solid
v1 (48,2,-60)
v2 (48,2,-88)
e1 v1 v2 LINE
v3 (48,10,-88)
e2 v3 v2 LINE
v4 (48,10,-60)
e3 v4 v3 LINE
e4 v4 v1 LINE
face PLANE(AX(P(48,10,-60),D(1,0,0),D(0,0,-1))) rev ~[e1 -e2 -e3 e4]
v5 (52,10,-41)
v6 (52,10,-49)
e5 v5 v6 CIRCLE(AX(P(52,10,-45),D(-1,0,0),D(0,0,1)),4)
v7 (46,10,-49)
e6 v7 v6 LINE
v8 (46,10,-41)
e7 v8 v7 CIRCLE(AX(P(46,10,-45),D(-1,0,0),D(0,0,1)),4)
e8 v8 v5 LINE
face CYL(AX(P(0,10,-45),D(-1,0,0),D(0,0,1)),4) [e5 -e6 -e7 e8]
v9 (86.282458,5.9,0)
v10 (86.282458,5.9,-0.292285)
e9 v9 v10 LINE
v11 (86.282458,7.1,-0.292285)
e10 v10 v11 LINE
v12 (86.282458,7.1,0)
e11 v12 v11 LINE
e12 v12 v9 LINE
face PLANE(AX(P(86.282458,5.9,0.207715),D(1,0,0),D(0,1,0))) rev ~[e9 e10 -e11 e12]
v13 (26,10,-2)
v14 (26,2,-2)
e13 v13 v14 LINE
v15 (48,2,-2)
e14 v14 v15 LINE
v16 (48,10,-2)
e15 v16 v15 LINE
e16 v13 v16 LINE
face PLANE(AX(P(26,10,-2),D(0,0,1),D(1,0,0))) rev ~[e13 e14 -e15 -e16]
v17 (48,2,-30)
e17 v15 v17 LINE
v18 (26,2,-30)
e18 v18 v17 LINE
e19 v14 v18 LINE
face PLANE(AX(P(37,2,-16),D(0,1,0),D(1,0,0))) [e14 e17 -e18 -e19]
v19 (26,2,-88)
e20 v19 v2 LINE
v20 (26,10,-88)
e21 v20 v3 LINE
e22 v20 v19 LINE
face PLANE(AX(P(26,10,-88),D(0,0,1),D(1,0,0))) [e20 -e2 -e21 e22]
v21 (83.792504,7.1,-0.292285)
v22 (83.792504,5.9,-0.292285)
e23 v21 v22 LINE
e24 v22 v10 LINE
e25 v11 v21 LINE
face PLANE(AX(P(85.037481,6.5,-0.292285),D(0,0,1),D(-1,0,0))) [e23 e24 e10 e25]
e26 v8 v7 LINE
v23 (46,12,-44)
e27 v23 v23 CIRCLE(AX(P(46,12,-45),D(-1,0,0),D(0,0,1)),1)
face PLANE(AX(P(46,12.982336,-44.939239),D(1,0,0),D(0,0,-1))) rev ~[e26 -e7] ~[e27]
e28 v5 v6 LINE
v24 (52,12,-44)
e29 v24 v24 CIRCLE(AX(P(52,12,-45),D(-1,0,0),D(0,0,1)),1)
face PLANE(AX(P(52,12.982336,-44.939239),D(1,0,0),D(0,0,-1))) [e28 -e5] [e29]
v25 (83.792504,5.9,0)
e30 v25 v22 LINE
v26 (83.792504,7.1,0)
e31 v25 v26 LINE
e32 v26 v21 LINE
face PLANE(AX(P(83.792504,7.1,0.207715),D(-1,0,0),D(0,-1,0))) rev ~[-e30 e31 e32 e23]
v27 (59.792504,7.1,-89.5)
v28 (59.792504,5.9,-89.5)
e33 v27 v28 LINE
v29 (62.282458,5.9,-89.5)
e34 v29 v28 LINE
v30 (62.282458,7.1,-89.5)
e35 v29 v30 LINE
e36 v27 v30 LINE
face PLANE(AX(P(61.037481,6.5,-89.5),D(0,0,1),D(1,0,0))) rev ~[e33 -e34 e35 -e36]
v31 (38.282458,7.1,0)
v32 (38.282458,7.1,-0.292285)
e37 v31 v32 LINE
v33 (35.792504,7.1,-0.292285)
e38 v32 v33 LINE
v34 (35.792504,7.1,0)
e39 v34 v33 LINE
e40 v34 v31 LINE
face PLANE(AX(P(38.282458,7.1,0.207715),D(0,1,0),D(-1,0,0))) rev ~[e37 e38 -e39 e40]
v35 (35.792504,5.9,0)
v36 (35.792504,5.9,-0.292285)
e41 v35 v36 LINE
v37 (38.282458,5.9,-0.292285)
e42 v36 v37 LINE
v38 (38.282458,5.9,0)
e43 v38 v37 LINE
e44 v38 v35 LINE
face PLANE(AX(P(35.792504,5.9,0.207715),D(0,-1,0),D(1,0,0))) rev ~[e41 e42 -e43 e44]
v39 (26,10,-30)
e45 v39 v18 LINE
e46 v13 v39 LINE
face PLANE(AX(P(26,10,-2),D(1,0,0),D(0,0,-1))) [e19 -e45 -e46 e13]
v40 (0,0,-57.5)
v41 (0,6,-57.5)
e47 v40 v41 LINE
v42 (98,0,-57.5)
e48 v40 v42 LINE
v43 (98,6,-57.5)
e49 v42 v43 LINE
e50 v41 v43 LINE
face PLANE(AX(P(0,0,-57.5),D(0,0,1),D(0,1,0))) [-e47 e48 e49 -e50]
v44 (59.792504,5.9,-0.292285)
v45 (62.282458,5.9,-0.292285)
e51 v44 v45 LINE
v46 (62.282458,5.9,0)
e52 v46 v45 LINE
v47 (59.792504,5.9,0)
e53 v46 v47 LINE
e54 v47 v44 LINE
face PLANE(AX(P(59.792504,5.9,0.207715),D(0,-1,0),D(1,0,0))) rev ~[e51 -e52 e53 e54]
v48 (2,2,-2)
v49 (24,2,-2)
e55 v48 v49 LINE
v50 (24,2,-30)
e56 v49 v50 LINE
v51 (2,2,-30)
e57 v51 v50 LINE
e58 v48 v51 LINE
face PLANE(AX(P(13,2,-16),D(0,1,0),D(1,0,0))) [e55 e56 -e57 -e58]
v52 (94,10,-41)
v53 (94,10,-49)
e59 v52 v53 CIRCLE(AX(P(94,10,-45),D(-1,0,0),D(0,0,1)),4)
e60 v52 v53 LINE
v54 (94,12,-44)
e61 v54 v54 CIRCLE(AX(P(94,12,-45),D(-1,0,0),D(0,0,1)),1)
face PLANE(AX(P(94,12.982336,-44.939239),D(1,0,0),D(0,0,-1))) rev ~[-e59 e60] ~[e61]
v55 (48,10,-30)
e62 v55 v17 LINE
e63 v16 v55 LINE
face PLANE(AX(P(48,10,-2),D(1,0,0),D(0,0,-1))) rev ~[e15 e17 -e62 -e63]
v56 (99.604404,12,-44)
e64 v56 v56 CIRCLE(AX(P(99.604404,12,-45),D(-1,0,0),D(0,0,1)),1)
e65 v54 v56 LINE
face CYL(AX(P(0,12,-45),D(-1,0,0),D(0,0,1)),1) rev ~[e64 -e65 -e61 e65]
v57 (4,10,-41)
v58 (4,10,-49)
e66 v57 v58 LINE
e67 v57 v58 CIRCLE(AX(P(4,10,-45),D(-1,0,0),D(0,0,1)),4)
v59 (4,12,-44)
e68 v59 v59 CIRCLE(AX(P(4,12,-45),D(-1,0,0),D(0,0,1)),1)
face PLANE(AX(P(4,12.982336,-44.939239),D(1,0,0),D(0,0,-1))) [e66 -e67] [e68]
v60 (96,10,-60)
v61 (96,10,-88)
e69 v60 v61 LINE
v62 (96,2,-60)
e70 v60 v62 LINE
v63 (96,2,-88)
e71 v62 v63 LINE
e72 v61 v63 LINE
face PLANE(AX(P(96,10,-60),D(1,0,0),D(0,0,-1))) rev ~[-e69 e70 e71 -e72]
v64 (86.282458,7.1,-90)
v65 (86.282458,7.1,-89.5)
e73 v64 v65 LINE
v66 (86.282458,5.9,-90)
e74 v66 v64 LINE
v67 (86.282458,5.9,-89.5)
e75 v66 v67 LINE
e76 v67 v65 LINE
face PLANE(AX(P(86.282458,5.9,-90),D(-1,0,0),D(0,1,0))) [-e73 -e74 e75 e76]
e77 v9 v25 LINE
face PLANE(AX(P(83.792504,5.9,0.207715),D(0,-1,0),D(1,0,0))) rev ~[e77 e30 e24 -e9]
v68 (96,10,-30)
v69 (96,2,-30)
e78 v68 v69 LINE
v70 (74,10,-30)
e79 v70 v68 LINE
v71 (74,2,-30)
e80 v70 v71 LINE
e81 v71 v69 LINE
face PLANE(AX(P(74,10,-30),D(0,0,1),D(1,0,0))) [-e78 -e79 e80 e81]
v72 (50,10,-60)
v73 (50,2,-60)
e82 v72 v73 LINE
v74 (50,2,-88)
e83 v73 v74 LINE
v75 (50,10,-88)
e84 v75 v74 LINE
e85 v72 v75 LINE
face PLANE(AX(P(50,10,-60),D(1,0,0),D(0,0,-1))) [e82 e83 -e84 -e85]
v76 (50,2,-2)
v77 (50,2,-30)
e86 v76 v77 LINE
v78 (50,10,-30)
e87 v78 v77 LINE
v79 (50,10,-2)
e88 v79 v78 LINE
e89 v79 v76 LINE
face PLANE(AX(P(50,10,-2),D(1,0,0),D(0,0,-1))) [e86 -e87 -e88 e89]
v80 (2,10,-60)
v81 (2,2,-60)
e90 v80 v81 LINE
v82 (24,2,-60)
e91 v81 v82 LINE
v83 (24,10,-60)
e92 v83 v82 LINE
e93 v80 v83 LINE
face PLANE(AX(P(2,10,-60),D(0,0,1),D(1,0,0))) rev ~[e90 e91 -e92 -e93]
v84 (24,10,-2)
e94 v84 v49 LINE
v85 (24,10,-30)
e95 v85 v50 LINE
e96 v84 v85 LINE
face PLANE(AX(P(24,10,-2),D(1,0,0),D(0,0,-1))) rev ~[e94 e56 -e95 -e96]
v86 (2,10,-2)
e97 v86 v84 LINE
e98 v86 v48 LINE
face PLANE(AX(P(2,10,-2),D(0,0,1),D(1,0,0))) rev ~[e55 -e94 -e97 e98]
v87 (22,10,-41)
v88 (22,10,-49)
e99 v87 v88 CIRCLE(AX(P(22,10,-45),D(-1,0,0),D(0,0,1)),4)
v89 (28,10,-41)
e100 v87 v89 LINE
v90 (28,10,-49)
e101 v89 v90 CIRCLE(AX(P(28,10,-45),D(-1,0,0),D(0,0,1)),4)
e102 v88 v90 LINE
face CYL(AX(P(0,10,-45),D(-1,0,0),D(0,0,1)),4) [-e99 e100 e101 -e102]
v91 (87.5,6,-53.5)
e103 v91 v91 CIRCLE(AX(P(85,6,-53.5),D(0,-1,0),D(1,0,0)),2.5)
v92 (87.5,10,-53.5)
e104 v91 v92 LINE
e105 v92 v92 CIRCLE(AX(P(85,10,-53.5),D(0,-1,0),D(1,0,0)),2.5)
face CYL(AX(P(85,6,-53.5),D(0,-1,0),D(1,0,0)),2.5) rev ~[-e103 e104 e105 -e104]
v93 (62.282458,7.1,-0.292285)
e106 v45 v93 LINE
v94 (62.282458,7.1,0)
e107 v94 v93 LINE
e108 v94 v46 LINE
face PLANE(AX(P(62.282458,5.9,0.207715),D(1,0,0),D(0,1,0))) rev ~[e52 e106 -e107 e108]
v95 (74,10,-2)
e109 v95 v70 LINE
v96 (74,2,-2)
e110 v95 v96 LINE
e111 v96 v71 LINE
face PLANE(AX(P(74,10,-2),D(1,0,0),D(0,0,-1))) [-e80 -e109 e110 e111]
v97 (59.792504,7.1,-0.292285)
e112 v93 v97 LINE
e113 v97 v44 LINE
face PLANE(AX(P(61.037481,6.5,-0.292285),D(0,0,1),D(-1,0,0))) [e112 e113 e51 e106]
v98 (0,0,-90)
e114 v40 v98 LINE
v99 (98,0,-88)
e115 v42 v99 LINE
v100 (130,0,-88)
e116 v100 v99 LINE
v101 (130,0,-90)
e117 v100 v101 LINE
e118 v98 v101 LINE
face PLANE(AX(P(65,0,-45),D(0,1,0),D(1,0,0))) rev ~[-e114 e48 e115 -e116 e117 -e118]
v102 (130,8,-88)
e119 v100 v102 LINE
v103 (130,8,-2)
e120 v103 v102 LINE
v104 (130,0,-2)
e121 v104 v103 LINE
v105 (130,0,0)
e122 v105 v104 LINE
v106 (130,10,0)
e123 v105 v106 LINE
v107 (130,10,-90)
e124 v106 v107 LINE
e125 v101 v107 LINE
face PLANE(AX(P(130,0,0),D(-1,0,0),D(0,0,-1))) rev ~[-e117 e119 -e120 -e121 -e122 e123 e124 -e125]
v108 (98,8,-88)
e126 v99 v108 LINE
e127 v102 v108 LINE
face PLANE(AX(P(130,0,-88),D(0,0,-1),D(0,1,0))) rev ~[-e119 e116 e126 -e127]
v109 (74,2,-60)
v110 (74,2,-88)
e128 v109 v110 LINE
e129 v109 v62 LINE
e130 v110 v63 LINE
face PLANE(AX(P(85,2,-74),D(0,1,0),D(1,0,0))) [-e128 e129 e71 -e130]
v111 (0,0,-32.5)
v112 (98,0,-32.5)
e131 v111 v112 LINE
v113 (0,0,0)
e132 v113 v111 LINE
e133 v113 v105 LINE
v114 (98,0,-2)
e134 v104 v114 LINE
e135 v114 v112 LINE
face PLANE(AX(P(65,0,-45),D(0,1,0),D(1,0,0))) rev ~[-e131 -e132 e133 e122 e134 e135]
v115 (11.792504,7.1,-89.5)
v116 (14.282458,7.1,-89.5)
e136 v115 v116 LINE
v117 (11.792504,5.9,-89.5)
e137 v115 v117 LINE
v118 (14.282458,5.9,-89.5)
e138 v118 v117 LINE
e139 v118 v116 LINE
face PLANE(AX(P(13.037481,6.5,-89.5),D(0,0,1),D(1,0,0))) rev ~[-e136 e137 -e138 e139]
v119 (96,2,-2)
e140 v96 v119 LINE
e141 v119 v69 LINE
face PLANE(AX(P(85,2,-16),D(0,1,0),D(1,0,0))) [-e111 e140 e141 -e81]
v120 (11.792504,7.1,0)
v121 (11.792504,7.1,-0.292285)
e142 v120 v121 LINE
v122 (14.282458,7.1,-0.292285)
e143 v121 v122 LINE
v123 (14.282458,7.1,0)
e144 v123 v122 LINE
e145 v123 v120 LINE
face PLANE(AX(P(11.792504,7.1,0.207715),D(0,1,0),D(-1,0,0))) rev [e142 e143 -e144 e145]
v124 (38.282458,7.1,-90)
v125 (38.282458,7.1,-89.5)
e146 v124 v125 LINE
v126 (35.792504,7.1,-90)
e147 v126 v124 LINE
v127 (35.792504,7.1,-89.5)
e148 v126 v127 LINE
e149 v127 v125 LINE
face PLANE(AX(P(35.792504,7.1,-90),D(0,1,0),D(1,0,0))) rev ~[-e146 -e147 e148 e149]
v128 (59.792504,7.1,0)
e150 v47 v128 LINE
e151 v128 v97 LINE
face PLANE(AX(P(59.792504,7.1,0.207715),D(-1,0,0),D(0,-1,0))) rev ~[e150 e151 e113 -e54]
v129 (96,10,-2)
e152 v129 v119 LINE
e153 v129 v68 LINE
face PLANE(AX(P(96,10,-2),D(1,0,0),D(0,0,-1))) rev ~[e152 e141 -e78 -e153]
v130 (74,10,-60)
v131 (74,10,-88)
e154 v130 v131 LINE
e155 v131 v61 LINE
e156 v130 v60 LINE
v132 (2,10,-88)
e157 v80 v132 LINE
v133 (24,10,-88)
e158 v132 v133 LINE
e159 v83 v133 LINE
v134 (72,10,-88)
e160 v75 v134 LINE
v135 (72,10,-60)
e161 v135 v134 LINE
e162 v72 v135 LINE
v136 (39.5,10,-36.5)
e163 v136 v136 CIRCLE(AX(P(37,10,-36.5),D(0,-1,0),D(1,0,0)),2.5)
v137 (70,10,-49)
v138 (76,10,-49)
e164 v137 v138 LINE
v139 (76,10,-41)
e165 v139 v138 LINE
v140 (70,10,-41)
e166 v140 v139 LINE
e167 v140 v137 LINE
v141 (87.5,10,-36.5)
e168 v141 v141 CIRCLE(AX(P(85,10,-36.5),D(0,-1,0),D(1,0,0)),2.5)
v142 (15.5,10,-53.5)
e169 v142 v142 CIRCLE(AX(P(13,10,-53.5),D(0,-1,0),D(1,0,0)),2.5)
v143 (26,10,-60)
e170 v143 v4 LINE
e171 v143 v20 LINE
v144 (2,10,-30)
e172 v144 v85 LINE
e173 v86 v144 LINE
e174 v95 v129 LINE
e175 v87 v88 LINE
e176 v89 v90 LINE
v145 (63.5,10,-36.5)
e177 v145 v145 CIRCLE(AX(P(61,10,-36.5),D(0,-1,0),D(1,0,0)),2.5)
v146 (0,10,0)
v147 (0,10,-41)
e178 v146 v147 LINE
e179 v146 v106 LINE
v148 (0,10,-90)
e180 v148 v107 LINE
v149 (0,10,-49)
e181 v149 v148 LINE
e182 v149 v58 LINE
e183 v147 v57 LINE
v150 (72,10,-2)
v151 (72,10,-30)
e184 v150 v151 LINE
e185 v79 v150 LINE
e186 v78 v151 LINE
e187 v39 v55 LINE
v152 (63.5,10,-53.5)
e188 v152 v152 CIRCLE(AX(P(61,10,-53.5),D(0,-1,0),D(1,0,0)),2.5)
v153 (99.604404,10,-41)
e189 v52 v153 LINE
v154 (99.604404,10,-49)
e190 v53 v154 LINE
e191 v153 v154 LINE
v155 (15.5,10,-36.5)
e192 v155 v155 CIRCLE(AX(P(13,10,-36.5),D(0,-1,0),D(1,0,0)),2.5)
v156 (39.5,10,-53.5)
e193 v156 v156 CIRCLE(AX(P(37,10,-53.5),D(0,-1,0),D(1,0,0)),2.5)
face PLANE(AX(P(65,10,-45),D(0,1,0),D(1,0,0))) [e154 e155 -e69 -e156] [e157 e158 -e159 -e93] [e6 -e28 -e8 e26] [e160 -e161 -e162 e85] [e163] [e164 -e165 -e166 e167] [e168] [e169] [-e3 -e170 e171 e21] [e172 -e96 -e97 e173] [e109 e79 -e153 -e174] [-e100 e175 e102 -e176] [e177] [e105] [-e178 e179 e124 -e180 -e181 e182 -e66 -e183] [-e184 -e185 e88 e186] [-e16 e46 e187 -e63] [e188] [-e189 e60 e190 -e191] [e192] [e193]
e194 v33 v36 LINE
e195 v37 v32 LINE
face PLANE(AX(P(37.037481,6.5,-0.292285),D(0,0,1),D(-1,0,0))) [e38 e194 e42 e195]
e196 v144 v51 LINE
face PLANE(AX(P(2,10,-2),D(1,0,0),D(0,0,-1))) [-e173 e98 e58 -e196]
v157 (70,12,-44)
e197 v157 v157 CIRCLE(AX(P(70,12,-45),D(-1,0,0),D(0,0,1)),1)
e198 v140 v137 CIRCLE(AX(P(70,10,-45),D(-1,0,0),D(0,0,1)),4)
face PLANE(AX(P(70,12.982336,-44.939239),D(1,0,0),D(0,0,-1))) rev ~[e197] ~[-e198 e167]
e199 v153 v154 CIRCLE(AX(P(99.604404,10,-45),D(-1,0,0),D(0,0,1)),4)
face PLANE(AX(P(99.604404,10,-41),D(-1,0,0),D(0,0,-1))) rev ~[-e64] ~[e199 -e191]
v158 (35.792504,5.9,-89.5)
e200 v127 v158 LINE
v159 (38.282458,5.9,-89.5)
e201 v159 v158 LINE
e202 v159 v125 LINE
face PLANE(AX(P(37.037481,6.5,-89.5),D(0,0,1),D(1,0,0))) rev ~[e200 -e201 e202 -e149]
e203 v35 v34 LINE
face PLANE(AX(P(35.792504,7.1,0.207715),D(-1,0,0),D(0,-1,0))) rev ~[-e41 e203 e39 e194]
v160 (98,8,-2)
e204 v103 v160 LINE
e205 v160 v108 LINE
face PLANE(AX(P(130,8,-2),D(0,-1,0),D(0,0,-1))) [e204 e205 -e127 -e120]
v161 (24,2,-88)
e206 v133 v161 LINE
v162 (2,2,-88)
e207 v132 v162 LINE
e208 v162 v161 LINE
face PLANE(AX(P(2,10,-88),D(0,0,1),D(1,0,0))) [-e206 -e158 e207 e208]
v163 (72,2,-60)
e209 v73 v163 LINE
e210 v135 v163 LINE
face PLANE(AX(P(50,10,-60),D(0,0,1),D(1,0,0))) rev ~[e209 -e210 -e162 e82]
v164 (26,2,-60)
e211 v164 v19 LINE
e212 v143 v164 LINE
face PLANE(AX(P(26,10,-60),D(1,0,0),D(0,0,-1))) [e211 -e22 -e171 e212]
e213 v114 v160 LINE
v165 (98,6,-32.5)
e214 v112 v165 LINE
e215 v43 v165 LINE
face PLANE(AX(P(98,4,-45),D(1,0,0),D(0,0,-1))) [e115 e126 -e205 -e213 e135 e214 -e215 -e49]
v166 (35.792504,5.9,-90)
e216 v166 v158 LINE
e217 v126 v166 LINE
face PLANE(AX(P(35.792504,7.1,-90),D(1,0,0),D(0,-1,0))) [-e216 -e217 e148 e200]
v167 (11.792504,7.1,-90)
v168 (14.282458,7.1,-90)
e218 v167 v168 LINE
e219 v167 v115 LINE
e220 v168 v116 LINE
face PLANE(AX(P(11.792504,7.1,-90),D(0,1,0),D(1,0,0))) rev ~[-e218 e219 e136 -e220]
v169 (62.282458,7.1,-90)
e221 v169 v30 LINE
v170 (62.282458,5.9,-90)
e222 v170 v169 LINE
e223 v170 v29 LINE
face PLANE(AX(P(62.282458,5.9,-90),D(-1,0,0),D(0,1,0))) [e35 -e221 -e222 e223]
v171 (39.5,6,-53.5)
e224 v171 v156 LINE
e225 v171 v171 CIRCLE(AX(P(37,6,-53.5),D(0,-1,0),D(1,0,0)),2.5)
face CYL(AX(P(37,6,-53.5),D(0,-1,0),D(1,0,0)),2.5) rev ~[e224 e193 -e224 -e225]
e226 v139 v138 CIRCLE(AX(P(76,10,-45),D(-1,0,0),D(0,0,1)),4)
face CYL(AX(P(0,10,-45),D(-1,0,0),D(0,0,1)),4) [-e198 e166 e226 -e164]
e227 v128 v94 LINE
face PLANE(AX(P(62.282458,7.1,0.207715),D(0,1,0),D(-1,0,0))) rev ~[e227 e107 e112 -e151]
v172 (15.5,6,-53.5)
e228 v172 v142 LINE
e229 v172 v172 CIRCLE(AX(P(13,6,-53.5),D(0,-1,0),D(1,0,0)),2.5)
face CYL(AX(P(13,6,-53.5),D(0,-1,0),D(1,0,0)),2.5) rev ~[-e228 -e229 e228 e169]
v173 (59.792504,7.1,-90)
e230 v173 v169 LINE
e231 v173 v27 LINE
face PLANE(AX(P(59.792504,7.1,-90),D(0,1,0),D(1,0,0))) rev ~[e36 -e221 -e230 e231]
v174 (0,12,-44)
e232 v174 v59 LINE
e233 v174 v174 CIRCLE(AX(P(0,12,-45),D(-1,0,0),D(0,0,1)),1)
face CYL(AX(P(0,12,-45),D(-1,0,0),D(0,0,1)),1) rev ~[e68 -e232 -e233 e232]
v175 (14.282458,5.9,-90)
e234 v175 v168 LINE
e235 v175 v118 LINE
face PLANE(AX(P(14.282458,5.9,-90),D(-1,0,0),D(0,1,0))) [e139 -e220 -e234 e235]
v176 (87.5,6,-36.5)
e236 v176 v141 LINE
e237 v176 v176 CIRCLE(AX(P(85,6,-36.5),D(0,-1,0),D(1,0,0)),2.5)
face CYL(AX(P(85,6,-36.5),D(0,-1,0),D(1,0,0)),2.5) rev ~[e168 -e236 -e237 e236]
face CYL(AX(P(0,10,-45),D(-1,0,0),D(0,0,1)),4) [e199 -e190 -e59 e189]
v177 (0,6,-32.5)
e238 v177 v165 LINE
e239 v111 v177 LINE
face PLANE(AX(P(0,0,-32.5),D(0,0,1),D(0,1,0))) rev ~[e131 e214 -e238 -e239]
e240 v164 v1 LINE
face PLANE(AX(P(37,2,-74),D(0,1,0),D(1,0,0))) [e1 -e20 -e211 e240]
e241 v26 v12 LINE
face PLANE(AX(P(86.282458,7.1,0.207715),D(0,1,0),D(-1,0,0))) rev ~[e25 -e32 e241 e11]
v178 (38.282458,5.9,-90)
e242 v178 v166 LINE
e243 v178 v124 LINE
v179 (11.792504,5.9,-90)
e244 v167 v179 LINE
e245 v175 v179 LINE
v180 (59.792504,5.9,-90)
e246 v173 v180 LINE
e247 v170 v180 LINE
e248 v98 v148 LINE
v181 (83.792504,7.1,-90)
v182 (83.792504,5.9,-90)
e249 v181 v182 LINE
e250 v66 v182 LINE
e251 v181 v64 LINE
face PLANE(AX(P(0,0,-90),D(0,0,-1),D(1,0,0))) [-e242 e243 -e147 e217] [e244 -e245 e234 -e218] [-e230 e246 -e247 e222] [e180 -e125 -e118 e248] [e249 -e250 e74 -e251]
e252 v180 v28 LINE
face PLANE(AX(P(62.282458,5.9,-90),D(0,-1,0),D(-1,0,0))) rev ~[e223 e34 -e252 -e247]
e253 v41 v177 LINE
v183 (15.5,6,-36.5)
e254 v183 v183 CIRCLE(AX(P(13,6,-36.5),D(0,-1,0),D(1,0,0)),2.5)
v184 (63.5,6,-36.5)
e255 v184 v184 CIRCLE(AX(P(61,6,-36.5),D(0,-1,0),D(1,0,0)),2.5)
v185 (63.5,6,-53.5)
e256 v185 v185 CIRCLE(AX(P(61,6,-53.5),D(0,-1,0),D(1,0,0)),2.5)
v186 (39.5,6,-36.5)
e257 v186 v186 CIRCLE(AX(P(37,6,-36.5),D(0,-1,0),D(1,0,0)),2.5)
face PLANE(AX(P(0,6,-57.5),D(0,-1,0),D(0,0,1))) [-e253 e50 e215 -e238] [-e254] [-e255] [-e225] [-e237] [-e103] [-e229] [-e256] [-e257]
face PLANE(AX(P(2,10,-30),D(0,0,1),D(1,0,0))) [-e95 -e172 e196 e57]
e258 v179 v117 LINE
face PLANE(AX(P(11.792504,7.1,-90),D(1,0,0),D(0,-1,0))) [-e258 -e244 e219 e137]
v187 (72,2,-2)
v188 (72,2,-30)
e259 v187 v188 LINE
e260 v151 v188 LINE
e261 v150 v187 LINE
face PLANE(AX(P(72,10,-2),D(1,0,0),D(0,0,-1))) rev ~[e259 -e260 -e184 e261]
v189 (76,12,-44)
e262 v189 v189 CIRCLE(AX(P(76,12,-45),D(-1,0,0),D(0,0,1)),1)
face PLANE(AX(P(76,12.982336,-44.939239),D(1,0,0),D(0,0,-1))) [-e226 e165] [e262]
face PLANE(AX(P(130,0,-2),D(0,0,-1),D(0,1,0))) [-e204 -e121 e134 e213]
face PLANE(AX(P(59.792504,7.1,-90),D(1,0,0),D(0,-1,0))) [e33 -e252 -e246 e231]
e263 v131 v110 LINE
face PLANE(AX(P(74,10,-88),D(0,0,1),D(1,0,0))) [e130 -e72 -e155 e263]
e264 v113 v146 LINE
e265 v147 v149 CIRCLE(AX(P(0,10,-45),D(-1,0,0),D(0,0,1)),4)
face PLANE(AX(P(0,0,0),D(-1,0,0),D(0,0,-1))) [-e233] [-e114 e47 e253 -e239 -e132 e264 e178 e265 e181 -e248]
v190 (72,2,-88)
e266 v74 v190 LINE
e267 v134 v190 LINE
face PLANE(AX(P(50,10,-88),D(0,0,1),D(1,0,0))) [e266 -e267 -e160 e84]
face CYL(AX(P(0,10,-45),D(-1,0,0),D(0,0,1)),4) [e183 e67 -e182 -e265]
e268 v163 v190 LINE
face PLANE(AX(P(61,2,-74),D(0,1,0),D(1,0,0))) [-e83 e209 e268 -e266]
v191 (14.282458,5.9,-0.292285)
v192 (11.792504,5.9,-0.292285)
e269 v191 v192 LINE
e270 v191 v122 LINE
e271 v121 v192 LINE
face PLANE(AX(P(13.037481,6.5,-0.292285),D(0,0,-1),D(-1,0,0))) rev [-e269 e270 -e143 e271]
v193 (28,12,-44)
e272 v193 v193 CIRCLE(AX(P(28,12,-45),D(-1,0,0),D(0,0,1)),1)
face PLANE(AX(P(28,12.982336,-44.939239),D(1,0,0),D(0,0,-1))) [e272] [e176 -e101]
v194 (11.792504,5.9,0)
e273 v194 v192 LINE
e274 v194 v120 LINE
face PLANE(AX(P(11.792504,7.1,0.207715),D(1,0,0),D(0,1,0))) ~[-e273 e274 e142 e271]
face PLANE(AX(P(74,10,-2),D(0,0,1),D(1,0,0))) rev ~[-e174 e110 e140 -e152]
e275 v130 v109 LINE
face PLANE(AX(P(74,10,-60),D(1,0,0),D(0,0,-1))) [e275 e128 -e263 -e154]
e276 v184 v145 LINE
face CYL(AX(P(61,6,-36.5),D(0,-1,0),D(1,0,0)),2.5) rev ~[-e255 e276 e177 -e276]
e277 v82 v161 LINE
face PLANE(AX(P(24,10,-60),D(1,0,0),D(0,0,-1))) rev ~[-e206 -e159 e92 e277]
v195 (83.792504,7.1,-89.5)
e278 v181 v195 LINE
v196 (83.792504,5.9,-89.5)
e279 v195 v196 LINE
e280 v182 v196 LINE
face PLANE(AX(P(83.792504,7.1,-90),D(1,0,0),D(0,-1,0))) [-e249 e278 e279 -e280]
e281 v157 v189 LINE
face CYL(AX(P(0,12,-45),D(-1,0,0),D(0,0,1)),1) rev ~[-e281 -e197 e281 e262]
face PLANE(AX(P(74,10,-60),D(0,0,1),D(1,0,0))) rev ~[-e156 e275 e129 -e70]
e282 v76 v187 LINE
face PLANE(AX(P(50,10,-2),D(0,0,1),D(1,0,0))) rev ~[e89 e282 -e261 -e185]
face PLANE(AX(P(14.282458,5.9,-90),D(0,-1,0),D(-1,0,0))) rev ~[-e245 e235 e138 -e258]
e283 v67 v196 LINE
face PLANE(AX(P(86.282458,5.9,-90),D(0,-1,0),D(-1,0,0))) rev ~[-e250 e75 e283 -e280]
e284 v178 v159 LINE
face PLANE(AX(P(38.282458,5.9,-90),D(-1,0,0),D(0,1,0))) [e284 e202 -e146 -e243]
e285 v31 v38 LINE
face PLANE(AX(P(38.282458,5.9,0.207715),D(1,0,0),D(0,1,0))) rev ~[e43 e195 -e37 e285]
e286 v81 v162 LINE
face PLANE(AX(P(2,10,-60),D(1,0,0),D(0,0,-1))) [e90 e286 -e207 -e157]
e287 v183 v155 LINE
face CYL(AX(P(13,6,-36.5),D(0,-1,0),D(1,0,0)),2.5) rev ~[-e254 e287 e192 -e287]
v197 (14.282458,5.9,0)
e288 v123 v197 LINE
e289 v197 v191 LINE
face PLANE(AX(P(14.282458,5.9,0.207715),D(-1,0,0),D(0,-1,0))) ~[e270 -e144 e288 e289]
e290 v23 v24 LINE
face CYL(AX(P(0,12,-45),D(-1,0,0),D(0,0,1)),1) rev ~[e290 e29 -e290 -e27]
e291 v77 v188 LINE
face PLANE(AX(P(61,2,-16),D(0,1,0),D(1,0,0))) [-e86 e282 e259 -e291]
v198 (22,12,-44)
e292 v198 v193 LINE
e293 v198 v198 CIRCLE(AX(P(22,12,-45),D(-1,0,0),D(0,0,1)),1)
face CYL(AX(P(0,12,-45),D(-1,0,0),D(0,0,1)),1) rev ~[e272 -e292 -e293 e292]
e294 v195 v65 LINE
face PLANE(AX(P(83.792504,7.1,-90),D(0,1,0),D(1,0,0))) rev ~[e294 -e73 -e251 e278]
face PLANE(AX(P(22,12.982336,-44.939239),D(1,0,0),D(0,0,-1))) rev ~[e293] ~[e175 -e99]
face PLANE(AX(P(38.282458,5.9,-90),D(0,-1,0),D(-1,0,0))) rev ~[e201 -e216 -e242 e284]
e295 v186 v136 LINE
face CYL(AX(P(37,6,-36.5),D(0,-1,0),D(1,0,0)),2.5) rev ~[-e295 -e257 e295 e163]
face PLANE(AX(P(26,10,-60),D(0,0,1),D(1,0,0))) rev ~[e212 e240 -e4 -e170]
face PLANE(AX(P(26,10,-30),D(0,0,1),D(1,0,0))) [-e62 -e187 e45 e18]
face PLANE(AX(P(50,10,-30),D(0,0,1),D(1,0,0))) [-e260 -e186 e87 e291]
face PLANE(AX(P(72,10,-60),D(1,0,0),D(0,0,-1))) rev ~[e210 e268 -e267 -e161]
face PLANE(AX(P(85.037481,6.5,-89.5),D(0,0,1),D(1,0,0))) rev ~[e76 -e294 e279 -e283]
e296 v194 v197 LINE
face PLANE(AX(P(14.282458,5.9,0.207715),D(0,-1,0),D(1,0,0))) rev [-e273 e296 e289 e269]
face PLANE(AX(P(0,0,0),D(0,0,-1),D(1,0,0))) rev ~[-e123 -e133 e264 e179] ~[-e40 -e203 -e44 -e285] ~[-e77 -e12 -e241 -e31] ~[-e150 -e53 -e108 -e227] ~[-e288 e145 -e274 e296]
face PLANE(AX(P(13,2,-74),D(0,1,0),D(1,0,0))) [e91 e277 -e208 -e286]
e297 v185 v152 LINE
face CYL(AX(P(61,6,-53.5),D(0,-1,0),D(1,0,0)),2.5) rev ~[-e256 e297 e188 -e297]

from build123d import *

# Parameters (mm, degrees)
SKETCH_1_W             = 130
SKETCH_1_H             = 90
EXTRUDE_1_DEPTH        = 10
SKETCH_2_W             = 22
SKETCH_2_H             = 28
CUT_EXTRUDE_1_DEPTH    = 8
SKETCH_3_W             = 25
SKETCH_3_H             = 6
CUT_EXTRUDE_2_DEPTH    = 131
EXTRUDE_2_DEPTH        = 130
SKETCH_7_R             = 2.5
CUT_EXTRUDE_5_DEPTH    = 9
SKETCH_5_R             = 1
CUT_EXTRUDE_6_DEPTH    = 131
CUT_EXTRUDE_8_DEPTH    = 18
PATTERN_LINEAR_1_COUNT = 4
PATTERN_LINEAR_1_PITCH = 24
CUT_EXTRUDE_9_DEPTH    = 0.5
PATTERN_LINEAR_2_COUNT = 4
PATTERN_LINEAR_2_PITCH = 24
MIRROR_1_COPY_1_DEPTH  = 0.5
MIRROR_1_COPY_2_DEPTH  = 0.5
MIRROR_1_COPY_3_DEPTH  = 0.5
SKETCH_11_W            = 86
SKETCH_11_H            = 8
CUT_EXTRUDE_10_DEPTH   = 32
SKETCH_12_W            = 30.395595504
SKETCH_12_H            = 8
CUT_EXTRUDE_11_DEPTH   = 8


with BuildPart() as part:
    # 草图1 → 凸台-拉伸1 (new body)
    with BuildSketch(Plane(origin=(0, 0, 0), x_dir=(1, 0, 0), z_dir=(0, 1, 0))):
        with Locations((65, 45)):
            Rectangle(SKETCH_1_W, SKETCH_1_H)
    extrude(amount=EXTRUDE_1_DEPTH)

    # 草图2 → 切除-拉伸1 (cut)
    with BuildSketch(Plane(origin=(0, 10, 0), x_dir=(1, 0, 0), z_dir=(0, 1, 0))):
        with Locations((13, 74)):
            Rectangle(SKETCH_2_W, SKETCH_2_H)
        with Locations((37, 74)):
            Rectangle(SKETCH_2_W, SKETCH_2_H)
        with Locations((61, 74)):
            Rectangle(SKETCH_2_W, SKETCH_2_H)
        with Locations((85, 74)):
            Rectangle(SKETCH_2_W, SKETCH_2_H)
        with Locations((37, 16)):
            Rectangle(SKETCH_2_W, SKETCH_2_H)
        with Locations((61, 16)):
            Rectangle(SKETCH_2_W, SKETCH_2_H)
        with Locations((85, 16)):
            Rectangle(SKETCH_2_W, SKETCH_2_H)
        with Locations((13, 16)):
            Rectangle(SKETCH_2_W, SKETCH_2_H)
    extrude(amount=-CUT_EXTRUDE_1_DEPTH, mode=Mode.SUBTRACT)

    # 草图3 → 切除-拉伸2 (cut, through all)
    with BuildSketch(Plane.ZY):
        with Locations((-45, 3)):
            Rectangle(SKETCH_3_W, SKETCH_3_H)
    extrude(amount=-CUT_EXTRUDE_2_DEPTH, mode=Mode.SUBTRACT)

    # 草图4 → 凸台-拉伸2 (add, through all)
    with BuildSketch(Plane.ZY):
        with BuildLine():
            Line((-49, 10), (-41, 10))
            ThreePointArc((-41, 10), (-45, 14), (-49, 10))
        make_face()
    extrude(amount=-EXTRUDE_2_DEPTH)

    # 草图7 → 切除-拉伸5 (cut, through all)
    with BuildSketch(Plane.XZ.offset(-6)):
        with Locations((13, -36.5)):
            Circle(SKETCH_7_R)
        with Locations((37, -36.5)):
            Circle(SKETCH_7_R)
        with Locations((61, -36.5)):
            Circle(SKETCH_7_R)
        with Locations((85, -36.5)):
            Circle(SKETCH_7_R)
        with Locations((85, -53.5)):
            Circle(SKETCH_7_R)
        with Locations((61, -53.5)):
            Circle(SKETCH_7_R)
        with Locations((37, -53.5)):
            Circle(SKETCH_7_R)
        with Locations((13, -53.5)):
            Circle(SKETCH_7_R)
    extrude(amount=-CUT_EXTRUDE_5_DEPTH, mode=Mode.SUBTRACT)

    # 草图5 → 切除-拉伸6 (cut, through all)
    with BuildSketch(Plane.ZY):
        with Locations((-45, 12)):
            Circle(SKETCH_5_R)
    extrude(amount=-CUT_EXTRUDE_6_DEPTH, mode=Mode.SUBTRACT)

    # 草图8 → 切除-拉伸8 (cut)
    with BuildSketch(Plane.ZY.offset(-4)):
        Polygon((-49, 10), (-49, 15.914476158), (-40.761753379, 15.914476158), (-41, 10), align=None)
    cut_extrude_8 = extrude(amount=-CUT_EXTRUDE_8_DEPTH, mode=Mode.SUBTRACT)

    # 阵列(线性)1: 切除-拉伸8 ×4
    with Locations(*[(i * PATTERN_LINEAR_1_PITCH, 0, 0) for i in range(1, PATTERN_LINEAR_1_COUNT)]):
        add(cut_extrude_8, mode=Mode.SUBTRACT)

    # 草图10 → 切除-拉伸9 (cut)
    with BuildSketch(Plane(origin=(0, 0, -90), x_dir=(-1, 0, 0), z_dir=(0, 0, -1))):
        Polygon((-12.992503856, 7.1), (-11.792503856, 7.1), (-11.792503856, 5.9), (-13.082457584, 5.9), (-14.282457584, 5.9), (-14.282457584, 7.1), align=None)
    cut_extrude_9 = extrude(amount=-CUT_EXTRUDE_9_DEPTH, mode=Mode.SUBTRACT)

    # 阵列(线性)2: 切除-拉伸9 ×4
    with Locations(*[(i * PATTERN_LINEAR_2_PITCH, 0, 0) for i in range(1, PATTERN_LINEAR_2_COUNT)]):
        add(cut_extrude_9, mode=Mode.SUBTRACT)

    # 镜向1: 切除-拉伸9 across plane
    add(cut_extrude_9.mirror(Plane.XY.offset(-44.896142346)), mode=Mode.SUBTRACT)

    # 镜向1 copy 1 sketch → 镜向1 copy 1 (cut)
    with BuildSketch(Plane(origin=(24, 0, 0.207715309), x_dir=(-1, 0, 0), z_dir=(0, 0, 1))):
        Polygon((-12.992503856, -7.1), (-11.792503856, -7.1), (-11.792503856, -5.9), (-13.082457584, -5.9), (-14.282457584, -5.9), (-14.282457584, -7.1), align=None)
    extrude(amount=-MIRROR_1_COPY_1_DEPTH, mode=Mode.SUBTRACT)

    # 镜向1 copy 2 sketch → 镜向1 copy 2 (cut)
    with BuildSketch(Plane(origin=(48, 0, 0.207715309), x_dir=(-1, 0, 0), z_dir=(0, 0, 1))):
        Polygon((-12.992503856, -7.1), (-11.792503856, -7.1), (-11.792503856, -5.9), (-13.082457584, -5.9), (-14.282457584, -5.9), (-14.282457584, -7.1), align=None)
    extrude(amount=-MIRROR_1_COPY_2_DEPTH, mode=Mode.SUBTRACT)

    # 镜向1 copy 3 sketch → 镜向1 copy 3 (cut)
    with BuildSketch(Plane(origin=(72, 0, 0.207715309), x_dir=(-1, 0, 0), z_dir=(0, 0, 1))):
        Polygon((-12.992503856, -7.1), (-11.792503856, -7.1), (-11.792503856, -5.9), (-13.082457584, -5.9), (-14.282457584, -5.9), (-14.282457584, -7.1), align=None)
    extrude(amount=-MIRROR_1_COPY_3_DEPTH, mode=Mode.SUBTRACT)

    # 草图11 → 切除-拉伸10 (cut)
    with BuildSketch(Plane(origin=(130, 0, 0), x_dir=(0, 0, -1), z_dir=(1, 0, 0))):
        with Locations((45, 4)):
            Rectangle(SKETCH_11_W, SKETCH_11_H)
    extrude(amount=-CUT_EXTRUDE_10_DEPTH, mode=Mode.SUBTRACT)

    # 草图12 → 切除-拉伸11 (cut)
    with BuildSketch(Plane(origin=(0, 10, 0), x_dir=(1, 0, 0), z_dir=(0, 1, 0))):
        with Locations((114.802202248, 45)):
            Rectangle(SKETCH_12_W, SKETCH_12_H)
    extrude(amount=CUT_EXTRUDE_11_DEPTH, mode=Mode.SUBTRACT)


solid = part.part
